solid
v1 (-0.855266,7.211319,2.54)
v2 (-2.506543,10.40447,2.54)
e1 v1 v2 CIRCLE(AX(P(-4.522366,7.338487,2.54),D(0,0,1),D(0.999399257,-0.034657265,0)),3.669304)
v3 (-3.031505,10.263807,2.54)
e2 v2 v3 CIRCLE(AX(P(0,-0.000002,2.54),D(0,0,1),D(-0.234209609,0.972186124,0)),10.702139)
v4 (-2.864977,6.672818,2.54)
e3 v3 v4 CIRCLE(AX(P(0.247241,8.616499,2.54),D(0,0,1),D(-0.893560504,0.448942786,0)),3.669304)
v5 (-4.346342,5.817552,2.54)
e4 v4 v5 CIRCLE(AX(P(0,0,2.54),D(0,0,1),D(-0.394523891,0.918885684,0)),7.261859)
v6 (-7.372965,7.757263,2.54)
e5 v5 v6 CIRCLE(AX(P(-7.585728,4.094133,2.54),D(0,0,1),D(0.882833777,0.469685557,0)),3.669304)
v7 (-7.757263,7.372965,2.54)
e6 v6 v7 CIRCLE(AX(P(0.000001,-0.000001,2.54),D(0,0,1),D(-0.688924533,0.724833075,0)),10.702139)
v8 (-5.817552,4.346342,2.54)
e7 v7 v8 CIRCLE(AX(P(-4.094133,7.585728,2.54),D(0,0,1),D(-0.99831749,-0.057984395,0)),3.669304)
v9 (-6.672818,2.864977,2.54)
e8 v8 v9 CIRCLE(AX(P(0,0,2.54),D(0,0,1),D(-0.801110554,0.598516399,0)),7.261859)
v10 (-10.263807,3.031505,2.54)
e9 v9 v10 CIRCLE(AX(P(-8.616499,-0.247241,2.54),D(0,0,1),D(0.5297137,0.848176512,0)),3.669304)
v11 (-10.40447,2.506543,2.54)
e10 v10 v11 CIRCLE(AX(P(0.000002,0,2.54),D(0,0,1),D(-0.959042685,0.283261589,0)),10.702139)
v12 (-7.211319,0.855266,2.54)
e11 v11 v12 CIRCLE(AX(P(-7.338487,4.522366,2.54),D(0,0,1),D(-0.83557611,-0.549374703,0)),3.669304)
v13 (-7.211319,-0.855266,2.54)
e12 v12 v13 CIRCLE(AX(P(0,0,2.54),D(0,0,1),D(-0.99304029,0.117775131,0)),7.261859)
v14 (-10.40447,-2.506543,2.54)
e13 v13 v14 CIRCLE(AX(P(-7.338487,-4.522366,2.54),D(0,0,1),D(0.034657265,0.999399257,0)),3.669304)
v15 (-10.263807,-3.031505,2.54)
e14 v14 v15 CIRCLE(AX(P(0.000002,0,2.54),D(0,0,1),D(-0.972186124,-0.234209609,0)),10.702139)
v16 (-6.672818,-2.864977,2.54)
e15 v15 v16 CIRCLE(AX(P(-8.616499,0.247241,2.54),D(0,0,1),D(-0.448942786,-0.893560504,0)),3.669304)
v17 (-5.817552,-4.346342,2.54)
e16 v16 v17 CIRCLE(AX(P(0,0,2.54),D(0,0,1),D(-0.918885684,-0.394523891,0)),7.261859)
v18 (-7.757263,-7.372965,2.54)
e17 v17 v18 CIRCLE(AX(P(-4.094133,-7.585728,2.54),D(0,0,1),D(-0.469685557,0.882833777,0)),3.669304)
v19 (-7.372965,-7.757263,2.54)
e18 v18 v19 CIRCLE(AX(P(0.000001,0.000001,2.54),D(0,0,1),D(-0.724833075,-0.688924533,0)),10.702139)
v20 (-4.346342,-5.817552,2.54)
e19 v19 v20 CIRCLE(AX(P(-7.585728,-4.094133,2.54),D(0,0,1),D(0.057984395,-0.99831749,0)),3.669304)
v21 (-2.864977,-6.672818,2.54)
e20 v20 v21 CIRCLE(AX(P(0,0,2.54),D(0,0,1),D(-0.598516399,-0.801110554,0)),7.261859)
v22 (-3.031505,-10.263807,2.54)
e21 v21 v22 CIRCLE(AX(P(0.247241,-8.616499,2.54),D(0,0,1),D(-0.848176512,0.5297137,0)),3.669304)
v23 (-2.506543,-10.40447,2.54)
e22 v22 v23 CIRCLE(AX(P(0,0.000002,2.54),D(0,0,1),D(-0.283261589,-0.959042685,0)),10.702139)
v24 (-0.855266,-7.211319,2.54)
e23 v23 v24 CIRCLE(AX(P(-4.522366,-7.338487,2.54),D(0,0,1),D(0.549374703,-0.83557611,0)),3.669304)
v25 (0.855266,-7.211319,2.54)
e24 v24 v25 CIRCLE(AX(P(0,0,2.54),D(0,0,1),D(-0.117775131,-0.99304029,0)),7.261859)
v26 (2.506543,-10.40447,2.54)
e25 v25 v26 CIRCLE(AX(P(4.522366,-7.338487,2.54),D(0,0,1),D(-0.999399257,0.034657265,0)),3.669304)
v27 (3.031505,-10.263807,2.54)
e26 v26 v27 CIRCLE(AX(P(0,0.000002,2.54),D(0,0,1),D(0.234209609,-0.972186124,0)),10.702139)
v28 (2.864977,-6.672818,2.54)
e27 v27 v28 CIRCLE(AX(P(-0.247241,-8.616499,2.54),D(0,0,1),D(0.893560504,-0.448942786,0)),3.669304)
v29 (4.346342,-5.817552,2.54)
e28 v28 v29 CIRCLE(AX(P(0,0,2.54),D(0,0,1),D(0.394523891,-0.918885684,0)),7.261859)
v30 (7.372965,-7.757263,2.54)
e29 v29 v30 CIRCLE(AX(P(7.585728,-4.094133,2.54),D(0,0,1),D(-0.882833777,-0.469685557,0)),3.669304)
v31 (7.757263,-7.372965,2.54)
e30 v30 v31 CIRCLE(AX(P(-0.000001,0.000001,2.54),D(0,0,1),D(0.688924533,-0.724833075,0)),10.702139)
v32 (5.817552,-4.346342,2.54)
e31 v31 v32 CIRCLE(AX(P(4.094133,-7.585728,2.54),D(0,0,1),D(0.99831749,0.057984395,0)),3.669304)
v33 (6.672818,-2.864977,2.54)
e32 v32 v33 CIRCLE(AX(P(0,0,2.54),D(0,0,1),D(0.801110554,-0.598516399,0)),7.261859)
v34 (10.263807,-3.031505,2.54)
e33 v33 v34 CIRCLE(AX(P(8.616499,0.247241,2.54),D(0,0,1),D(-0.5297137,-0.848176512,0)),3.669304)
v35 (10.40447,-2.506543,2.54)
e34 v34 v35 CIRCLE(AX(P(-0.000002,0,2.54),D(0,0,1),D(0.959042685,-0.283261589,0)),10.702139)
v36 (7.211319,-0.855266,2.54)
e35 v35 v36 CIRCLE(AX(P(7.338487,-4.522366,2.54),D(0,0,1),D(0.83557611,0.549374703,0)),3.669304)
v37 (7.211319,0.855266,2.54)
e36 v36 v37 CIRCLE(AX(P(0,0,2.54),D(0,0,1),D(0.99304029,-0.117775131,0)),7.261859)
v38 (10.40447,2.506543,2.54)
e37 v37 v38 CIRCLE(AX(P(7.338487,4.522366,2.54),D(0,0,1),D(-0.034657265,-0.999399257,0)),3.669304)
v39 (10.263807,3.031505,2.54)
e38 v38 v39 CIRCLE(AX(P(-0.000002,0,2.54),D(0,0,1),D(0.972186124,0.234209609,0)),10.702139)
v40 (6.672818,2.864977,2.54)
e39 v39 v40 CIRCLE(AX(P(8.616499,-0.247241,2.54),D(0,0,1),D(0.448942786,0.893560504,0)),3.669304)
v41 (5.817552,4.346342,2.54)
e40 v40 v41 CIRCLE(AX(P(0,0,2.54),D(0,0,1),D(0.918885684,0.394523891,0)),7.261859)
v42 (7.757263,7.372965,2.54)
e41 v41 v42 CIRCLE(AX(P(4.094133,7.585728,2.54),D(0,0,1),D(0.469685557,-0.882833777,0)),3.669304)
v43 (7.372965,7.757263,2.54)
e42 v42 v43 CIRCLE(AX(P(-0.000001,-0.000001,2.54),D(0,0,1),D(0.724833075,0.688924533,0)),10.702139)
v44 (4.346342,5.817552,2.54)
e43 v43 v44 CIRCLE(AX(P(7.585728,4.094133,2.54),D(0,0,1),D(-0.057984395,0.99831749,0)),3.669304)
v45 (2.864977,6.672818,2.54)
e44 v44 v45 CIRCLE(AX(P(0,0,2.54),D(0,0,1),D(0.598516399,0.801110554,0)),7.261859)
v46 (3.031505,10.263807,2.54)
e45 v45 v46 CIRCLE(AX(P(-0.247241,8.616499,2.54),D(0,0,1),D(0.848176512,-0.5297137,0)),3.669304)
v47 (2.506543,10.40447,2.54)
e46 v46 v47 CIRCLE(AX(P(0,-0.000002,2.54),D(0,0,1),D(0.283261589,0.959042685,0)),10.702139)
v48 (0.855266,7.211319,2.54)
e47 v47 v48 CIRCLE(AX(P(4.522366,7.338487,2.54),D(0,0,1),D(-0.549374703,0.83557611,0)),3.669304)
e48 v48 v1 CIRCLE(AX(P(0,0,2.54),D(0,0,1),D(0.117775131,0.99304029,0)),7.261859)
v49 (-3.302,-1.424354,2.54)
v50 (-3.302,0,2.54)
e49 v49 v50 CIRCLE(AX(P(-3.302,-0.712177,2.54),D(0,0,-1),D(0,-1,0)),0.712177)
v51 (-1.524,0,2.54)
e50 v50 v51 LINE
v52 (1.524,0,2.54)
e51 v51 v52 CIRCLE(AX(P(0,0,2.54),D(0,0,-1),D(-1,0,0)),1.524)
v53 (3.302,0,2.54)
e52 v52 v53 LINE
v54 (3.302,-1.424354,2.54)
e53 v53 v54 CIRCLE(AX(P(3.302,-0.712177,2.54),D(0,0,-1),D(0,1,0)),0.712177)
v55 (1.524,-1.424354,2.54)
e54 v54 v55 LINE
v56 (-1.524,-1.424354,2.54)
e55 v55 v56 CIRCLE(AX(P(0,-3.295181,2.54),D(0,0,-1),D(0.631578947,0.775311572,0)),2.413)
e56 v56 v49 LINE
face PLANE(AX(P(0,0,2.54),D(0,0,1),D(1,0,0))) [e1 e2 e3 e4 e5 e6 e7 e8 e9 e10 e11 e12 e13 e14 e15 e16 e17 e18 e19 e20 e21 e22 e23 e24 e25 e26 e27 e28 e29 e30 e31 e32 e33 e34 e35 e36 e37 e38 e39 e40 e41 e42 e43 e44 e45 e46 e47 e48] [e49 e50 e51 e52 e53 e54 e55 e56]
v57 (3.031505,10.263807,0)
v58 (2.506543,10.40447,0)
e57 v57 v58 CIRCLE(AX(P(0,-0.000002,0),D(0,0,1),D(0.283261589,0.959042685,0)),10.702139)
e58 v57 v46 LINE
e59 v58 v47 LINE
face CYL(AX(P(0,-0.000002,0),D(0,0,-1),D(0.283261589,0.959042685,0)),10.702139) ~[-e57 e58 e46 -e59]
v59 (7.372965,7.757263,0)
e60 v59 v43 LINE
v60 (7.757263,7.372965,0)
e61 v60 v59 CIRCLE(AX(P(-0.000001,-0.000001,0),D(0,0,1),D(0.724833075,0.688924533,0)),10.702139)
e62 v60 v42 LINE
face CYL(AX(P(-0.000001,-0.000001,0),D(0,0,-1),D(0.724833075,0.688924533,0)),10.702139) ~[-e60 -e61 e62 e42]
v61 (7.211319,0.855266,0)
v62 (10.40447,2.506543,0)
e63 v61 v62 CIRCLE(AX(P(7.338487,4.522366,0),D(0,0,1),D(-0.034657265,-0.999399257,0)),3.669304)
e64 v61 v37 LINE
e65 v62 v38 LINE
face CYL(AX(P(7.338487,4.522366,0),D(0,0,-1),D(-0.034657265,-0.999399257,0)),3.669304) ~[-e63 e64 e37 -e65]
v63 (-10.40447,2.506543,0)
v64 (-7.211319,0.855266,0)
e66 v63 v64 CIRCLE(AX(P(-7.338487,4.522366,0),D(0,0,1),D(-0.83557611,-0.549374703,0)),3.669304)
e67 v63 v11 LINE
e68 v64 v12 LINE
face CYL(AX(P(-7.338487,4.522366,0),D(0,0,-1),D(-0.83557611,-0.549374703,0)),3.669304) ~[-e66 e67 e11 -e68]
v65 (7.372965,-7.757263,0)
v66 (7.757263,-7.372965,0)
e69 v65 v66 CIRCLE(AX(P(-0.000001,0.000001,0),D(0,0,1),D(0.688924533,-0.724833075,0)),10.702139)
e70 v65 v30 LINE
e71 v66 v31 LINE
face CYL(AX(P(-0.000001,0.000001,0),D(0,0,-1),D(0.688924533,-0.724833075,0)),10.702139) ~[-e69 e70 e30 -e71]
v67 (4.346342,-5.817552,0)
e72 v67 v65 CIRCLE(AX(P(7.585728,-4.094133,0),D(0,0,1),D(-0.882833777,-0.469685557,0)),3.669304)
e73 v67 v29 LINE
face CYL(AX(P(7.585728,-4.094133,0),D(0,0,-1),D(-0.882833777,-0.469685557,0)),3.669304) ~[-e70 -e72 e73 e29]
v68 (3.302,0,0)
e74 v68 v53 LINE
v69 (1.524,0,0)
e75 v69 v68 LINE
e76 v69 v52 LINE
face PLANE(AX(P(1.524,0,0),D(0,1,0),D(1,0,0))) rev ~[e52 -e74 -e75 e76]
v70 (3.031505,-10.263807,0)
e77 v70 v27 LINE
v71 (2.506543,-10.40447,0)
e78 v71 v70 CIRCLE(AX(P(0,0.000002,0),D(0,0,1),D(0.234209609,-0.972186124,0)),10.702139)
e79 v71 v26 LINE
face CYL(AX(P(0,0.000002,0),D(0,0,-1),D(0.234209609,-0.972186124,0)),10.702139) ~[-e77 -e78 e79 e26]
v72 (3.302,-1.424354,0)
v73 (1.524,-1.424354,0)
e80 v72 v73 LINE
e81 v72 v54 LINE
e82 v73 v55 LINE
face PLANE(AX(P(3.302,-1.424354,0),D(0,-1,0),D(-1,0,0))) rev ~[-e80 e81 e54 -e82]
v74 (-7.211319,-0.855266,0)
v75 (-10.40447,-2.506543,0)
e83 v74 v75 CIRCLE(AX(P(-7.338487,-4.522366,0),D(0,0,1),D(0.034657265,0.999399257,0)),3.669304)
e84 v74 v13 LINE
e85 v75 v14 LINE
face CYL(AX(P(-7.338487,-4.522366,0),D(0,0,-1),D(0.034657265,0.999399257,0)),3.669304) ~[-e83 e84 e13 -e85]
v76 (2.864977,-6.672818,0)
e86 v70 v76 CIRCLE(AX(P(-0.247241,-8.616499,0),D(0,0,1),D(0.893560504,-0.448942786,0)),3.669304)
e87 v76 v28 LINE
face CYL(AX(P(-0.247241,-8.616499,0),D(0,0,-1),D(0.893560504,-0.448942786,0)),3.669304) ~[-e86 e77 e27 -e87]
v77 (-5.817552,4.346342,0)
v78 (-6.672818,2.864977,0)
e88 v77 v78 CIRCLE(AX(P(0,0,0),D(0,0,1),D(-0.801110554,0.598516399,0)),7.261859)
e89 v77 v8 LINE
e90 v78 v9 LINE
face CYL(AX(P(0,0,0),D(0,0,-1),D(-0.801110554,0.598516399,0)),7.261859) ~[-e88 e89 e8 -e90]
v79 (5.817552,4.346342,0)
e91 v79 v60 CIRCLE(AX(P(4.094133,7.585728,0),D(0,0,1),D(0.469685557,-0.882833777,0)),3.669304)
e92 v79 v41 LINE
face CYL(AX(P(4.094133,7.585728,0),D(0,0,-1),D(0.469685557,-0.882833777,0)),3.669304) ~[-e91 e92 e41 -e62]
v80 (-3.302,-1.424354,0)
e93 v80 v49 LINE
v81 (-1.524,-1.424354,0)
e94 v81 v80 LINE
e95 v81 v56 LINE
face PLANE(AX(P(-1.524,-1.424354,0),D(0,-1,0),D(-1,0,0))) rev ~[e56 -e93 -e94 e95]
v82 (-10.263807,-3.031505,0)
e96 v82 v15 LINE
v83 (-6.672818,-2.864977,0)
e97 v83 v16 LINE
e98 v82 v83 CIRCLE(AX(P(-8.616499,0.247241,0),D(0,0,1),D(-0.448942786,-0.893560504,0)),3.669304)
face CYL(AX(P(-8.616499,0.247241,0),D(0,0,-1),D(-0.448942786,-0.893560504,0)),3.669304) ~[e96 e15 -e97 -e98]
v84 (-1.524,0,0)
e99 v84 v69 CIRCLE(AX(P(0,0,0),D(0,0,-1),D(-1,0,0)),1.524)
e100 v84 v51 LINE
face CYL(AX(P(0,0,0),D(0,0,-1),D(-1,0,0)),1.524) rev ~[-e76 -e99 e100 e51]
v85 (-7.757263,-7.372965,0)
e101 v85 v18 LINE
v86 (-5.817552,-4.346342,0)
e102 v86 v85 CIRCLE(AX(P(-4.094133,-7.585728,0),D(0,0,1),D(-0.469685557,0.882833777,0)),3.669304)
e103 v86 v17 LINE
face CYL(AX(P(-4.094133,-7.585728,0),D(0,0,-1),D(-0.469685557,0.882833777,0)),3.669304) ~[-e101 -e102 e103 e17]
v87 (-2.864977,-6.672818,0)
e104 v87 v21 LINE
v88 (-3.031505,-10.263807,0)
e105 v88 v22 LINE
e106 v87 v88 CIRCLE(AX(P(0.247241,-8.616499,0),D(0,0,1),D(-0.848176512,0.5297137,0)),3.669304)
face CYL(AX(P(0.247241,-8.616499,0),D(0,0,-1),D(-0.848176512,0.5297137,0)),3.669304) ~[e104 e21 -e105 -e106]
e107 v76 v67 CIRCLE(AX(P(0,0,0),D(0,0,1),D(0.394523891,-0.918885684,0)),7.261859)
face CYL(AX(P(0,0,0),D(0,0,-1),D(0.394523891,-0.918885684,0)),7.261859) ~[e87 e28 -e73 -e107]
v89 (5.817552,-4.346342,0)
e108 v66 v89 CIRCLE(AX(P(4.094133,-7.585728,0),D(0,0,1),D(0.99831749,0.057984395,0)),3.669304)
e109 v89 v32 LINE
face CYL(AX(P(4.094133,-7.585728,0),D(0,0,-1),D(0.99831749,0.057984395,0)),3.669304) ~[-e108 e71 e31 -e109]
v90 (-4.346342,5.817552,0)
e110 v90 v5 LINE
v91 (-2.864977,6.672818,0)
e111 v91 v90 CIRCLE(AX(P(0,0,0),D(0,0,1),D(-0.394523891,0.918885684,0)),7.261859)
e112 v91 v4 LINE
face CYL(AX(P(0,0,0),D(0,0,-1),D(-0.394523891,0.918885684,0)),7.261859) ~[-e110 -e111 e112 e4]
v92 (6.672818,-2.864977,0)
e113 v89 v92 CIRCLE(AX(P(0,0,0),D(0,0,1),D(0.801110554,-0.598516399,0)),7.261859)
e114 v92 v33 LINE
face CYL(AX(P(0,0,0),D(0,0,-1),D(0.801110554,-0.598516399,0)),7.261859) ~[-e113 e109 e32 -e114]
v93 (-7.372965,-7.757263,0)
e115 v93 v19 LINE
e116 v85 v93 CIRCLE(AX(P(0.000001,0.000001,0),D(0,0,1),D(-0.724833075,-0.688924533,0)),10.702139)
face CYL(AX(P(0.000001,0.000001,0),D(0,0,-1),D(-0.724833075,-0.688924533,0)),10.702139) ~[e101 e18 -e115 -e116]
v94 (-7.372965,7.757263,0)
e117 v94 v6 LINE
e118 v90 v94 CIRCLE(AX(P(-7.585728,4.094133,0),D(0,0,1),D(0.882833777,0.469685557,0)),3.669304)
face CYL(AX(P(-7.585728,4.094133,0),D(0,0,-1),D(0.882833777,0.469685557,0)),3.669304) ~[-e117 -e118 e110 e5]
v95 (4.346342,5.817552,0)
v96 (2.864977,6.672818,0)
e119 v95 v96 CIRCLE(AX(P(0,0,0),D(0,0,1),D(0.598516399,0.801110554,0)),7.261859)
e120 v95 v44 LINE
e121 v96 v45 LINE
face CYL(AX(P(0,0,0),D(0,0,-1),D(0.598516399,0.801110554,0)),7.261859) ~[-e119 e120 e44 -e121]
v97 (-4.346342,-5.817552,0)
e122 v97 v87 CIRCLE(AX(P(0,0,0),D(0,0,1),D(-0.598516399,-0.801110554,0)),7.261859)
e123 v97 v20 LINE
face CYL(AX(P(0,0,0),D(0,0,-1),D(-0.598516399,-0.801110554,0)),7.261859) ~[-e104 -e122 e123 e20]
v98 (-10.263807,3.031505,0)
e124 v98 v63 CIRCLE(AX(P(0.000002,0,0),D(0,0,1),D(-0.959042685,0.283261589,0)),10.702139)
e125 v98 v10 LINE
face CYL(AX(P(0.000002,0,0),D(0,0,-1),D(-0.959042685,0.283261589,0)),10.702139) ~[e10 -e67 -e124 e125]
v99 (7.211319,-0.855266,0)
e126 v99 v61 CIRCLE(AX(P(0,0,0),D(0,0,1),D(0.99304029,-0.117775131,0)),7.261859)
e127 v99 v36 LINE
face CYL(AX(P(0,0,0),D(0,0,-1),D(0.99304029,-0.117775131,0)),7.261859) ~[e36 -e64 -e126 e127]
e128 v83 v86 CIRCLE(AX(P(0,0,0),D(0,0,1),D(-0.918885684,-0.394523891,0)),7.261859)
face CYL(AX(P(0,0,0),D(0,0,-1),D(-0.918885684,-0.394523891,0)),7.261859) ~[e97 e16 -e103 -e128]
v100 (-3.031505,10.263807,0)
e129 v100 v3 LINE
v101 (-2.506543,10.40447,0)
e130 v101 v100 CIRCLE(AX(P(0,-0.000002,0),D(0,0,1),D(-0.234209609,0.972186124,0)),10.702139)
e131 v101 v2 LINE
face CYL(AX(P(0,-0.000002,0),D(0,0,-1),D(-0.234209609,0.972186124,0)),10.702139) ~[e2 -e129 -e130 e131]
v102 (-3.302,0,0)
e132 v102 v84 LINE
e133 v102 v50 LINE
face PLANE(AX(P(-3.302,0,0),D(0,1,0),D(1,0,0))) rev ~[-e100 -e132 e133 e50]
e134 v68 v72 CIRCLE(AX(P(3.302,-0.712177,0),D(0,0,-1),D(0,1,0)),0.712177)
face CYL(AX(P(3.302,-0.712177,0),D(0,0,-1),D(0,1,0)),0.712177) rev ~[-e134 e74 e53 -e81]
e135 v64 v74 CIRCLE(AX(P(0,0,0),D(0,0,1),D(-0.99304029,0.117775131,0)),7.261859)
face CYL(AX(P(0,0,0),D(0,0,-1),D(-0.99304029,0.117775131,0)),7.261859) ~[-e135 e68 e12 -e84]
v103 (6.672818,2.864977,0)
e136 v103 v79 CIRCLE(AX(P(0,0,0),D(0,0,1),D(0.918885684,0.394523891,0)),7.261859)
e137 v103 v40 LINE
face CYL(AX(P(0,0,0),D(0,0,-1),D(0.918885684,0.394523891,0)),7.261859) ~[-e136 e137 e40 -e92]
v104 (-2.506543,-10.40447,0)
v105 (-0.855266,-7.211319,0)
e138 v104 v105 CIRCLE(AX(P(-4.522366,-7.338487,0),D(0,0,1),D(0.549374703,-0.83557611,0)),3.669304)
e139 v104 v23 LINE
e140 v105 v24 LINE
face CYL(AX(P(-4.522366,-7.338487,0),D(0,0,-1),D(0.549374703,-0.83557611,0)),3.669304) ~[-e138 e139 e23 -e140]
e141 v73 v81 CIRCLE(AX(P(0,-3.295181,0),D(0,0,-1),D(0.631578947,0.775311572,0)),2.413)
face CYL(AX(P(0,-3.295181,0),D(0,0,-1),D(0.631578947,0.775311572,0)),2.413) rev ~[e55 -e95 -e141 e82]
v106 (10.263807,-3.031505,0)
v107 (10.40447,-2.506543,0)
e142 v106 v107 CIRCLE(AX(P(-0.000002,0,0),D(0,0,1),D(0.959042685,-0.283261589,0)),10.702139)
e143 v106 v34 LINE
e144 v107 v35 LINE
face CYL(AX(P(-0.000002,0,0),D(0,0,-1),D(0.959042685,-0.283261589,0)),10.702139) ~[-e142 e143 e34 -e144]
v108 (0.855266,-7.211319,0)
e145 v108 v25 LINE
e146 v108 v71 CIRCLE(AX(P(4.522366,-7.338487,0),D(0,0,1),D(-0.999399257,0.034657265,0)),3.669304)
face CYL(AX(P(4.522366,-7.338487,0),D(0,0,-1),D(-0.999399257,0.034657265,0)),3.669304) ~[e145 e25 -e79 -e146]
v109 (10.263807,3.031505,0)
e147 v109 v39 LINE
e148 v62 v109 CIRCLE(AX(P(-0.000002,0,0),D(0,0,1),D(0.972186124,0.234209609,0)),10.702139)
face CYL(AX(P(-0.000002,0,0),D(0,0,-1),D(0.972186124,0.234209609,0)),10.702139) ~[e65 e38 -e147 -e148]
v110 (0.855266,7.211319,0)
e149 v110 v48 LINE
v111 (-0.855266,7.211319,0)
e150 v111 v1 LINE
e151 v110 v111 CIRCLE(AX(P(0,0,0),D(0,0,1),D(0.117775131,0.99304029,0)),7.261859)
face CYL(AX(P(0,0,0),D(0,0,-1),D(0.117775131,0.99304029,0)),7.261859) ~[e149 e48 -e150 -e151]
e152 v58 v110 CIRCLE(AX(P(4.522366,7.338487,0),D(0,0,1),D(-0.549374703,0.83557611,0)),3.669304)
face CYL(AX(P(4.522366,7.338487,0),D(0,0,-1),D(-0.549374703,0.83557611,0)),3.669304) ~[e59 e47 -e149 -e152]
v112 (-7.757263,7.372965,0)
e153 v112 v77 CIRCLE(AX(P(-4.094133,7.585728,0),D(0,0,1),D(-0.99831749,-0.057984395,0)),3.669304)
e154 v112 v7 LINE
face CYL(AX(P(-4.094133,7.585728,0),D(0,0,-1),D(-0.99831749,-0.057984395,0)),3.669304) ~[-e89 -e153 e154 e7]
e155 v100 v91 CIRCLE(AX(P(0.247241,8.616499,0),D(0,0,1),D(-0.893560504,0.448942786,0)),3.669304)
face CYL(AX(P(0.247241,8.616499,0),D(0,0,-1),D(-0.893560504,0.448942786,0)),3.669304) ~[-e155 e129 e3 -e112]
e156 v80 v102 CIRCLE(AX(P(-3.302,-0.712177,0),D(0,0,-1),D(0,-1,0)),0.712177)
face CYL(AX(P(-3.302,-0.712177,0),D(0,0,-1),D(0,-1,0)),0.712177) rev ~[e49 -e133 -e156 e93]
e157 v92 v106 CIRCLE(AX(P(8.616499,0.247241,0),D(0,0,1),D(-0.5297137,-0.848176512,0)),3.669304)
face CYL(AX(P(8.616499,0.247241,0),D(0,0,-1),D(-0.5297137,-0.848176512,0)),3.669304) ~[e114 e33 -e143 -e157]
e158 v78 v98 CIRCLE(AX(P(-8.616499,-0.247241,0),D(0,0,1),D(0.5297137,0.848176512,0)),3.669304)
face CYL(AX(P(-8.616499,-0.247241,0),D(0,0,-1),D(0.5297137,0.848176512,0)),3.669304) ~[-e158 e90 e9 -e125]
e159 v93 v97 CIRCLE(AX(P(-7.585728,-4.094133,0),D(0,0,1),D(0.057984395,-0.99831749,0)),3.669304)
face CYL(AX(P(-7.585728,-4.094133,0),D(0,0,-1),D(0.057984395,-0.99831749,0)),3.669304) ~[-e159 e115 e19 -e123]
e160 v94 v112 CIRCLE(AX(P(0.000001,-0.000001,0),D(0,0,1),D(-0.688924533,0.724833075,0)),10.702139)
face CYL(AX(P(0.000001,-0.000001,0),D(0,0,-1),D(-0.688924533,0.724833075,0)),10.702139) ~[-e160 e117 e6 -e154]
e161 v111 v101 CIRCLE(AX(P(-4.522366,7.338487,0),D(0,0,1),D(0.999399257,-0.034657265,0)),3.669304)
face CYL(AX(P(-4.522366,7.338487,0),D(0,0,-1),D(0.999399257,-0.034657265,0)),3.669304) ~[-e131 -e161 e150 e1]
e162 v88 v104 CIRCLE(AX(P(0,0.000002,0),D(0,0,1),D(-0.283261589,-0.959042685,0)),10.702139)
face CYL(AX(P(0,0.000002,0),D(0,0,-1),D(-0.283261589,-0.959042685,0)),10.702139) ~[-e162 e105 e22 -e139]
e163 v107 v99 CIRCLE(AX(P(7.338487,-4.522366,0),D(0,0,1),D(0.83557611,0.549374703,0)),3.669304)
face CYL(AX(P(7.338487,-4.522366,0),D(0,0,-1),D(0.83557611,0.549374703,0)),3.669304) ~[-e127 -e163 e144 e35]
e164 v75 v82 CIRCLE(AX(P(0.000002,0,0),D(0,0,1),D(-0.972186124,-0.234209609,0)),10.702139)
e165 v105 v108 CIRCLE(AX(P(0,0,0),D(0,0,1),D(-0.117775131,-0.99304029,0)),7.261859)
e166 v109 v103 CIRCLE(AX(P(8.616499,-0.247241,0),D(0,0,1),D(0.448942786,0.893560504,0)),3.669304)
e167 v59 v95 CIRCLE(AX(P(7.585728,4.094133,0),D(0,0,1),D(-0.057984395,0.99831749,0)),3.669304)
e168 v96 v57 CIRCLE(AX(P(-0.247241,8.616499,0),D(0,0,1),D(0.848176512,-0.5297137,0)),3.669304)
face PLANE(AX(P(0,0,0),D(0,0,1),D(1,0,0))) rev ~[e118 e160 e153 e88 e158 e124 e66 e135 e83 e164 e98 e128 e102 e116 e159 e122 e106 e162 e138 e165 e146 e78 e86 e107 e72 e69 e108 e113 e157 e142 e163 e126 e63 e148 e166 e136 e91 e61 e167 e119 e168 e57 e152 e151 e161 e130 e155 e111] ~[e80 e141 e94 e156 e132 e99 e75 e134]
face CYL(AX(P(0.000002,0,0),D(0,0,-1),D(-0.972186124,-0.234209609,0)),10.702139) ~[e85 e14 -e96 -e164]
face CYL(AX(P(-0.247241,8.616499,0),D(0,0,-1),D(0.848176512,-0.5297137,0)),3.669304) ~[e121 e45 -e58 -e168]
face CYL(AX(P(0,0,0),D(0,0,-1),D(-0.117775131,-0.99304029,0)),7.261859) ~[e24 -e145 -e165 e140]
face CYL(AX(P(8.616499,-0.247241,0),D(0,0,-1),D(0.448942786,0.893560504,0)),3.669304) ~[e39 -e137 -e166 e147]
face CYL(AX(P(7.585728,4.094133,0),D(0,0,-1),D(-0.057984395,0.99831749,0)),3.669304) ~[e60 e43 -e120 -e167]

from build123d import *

# Parameters (mm, degrees)
BOSS_EXTRUDE1_DEPTH = 2.54


with BuildPart() as part:
    # Sketch1 → Boss-Extrude1 (new body)
    with BuildSketch(Plane.XY):
        with BuildLine():
            ThreePointArc((-7.372965122, 7.75726334), (-7.56755407, 7.56755407), (-7.75726334, 7.372965122))
            ThreePointArc((-7.75726334, 7.372965122), (-7.183443639, 5.605840676), (-5.817551904, 4.346341719))
            ThreePointArc((-5.817551904, 4.346341719), (-6.288954394, 3.630929512), (-6.672818294, 2.864976877))
            ThreePointArc((-6.672818294, 2.864976877), (-8.446522255, 3.41812434), (-10.263806767, 3.031504555))
            ThreePointArc((-10.263806767, 3.031504555), (-10.337471104, 2.769917034), (-10.404469677, 2.506543427))
            ThreePointArc((-10.404469677, 2.506543427), (-9.023965016, 1.263078615), (-7.211318596, 0.85526639))
            ThreePointArc((-7.211318596, 0.85526639), (-7.261859025, 0), (-7.211318596, -0.85526639))
            ThreePointArc((-7.211318596, -0.85526639), (-9.023965016, -1.263078615), (-10.404469677, -2.506543427))
            ThreePointArc((-10.404469677, -2.506543427), (-10.337471104, -2.769917034), (-10.263806767, -3.031504555))
            ThreePointArc((-10.263806767, -3.031504555), (-8.446522255, -3.41812434), (-6.672818294, -2.864976877))
            ThreePointArc((-6.672818294, -2.864976877), (-6.288954394, -3.630929512), (-5.817551904, -4.346341719))
            ThreePointArc((-5.817551904, -4.346341719), (-7.183443639, -5.605840676), (-7.75726334, -7.372965122))
            ThreePointArc((-7.75726334, -7.372965122), (-7.56755407, -7.56755407), (-7.372965122, -7.75726334))
            ThreePointArc((-7.372965122, -7.75726334), (-5.605840676, -7.183443639), (-4.346341719, -5.817551904))
            ThreePointArc((-4.346341719, -5.817551904), (-3.630929512, -6.288954394), (-2.864976877, -6.672818294))
            ThreePointArc((-2.864976877, -6.672818294), (-3.41812434, -8.446522255), (-3.031504555, -10.263806767))
            ThreePointArc((-3.031504555, -10.263806767), (-2.769917034, -10.337471104), (-2.506543427, -10.404469677))
            ThreePointArc((-2.506543427, -10.404469677), (-1.263078615, -9.023965016), (-0.85526639, -7.211318596))
            ThreePointArc((-0.85526639, -7.211318596), (0, -7.261859025), (0.85526639, -7.211318596))
            ThreePointArc((0.85526639, -7.211318596), (1.263078615, -9.023965016), (2.506543427, -10.404469677))
            ThreePointArc((2.506543427, -10.404469677), (2.769917034, -10.337471104), (3.031504555, -10.263806767))
            ThreePointArc((3.031504555, -10.263806767), (3.41812434, -8.446522255), (2.864976877, -6.672818294))
            ThreePointArc((2.864976877, -6.672818294), (3.630929512, -6.288954394), (4.346341719, -5.817551904))
            ThreePointArc((4.346341719, -5.817551904), (5.605840676, -7.183443639), (7.372965122, -7.75726334))
            ThreePointArc((7.372965122, -7.75726334), (7.56755407, -7.56755407), (7.75726334, -7.372965122))
            ThreePointArc((7.75726334, -7.372965122), (7.183443639, -5.605840676), (5.817551904, -4.346341719))
            ThreePointArc((5.817551904, -4.346341719), (6.288954394, -3.630929512), (6.672818294, -2.864976877))
            ThreePointArc((6.672818294, -2.864976877), (8.446522255, -3.41812434), (10.263806767, -3.031504555))
            ThreePointArc((10.263806767, -3.031504555), (10.337471104, -2.769917034), (10.404469677, -2.506543427))
            ThreePointArc((10.404469677, -2.506543427), (9.023965016, -1.263078615), (7.211318596, -0.85526639))
            ThreePointArc((7.211318596, -0.85526639), (7.261859025, 0), (7.211318596, 0.85526639))
            ThreePointArc((7.211318596, 0.85526639), (9.023965016, 1.263078615), (10.404469677, 2.506543427))
            ThreePointArc((10.404469677, 2.506543427), (10.337471104, 2.769917034), (10.263806767, 3.031504555))
            ThreePointArc((10.263806767, 3.031504555), (8.446522255, 3.41812434), (6.672818294, 2.864976877))
            ThreePointArc((6.672818294, 2.864976877), (6.288954394, 3.630929512), (5.817551904, 4.346341719))
            ThreePointArc((5.817551904, 4.346341719), (7.183443639, 5.605840676), (7.75726334, 7.372965122))
            ThreePointArc((7.75726334, 7.372965122), (7.56755407, 7.56755407), (7.372965122, 7.75726334))
            ThreePointArc((7.372965122, 7.75726334), (5.605840676, 7.183443639), (4.346341719, 5.817551904))
            ThreePointArc((4.346341719, 5.817551904), (3.630929512, 6.288954394), (2.864976877, 6.672818294))
            ThreePointArc((2.864976877, 6.672818294), (3.41812434, 8.446522255), (3.031504555, 10.263806767))
            ThreePointArc((3.031504555, 10.263806767), (2.769917034, 10.337471104), (2.506543427, 10.404469677))
            ThreePointArc((2.506543427, 10.404469677), (1.263078615, 9.023965016), (0.85526639, 7.211318596))
            ThreePointArc((0.85526639, 7.211318596), (0, 7.261859025), (-0.85526639, 7.211318596))
            ThreePointArc((-0.85526639, 7.211318596), (-1.263078615, 9.023965016), (-2.506543427, 10.404469677))
            ThreePointArc((-2.506543427, 10.404469677), (-2.769917034, 10.337471104), (-3.031504555, 10.263806767))
            ThreePointArc((-3.031504555, 10.263806767), (-3.41812434, 8.446522255), (-2.864976877, 6.672818294))
            ThreePointArc((-2.864976877, 6.672818294), (-3.630929512, 6.288954394), (-4.346341719, 5.817551904))
            ThreePointArc((-4.346341719, 5.817551904), (-5.605840676, 7.183443639), (-7.372965122, 7.75726334))
        make_face()
        with BuildLine():
            Line((-1.524, -1.424354318), (-3.302, -1.424354318))
            ThreePointArc((-3.302, -1.424354318), (-4.014177159, -0.712177159), (-3.302, 0))
            Line((-3.302, 0), (-1.524, 0))
            ThreePointArc((-1.524, 0), (0, 1.524), (1.524, 0))
            Line((1.524, 0), (3.302, 0))
            ThreePointArc((3.302, 0), (4.014177159, -0.712177159), (3.302, -1.424354318))
            Line((3.302, -1.424354318), (1.524, -1.424354318))
            ThreePointArc((1.524, -1.424354318), (0, -5.70818114), (-1.524, -1.424354318))
        make_face(mode=Mode.SUBTRACT)
    extrude(amount=BOSS_EXTRUDE1_DEPTH)


solid = part.part
